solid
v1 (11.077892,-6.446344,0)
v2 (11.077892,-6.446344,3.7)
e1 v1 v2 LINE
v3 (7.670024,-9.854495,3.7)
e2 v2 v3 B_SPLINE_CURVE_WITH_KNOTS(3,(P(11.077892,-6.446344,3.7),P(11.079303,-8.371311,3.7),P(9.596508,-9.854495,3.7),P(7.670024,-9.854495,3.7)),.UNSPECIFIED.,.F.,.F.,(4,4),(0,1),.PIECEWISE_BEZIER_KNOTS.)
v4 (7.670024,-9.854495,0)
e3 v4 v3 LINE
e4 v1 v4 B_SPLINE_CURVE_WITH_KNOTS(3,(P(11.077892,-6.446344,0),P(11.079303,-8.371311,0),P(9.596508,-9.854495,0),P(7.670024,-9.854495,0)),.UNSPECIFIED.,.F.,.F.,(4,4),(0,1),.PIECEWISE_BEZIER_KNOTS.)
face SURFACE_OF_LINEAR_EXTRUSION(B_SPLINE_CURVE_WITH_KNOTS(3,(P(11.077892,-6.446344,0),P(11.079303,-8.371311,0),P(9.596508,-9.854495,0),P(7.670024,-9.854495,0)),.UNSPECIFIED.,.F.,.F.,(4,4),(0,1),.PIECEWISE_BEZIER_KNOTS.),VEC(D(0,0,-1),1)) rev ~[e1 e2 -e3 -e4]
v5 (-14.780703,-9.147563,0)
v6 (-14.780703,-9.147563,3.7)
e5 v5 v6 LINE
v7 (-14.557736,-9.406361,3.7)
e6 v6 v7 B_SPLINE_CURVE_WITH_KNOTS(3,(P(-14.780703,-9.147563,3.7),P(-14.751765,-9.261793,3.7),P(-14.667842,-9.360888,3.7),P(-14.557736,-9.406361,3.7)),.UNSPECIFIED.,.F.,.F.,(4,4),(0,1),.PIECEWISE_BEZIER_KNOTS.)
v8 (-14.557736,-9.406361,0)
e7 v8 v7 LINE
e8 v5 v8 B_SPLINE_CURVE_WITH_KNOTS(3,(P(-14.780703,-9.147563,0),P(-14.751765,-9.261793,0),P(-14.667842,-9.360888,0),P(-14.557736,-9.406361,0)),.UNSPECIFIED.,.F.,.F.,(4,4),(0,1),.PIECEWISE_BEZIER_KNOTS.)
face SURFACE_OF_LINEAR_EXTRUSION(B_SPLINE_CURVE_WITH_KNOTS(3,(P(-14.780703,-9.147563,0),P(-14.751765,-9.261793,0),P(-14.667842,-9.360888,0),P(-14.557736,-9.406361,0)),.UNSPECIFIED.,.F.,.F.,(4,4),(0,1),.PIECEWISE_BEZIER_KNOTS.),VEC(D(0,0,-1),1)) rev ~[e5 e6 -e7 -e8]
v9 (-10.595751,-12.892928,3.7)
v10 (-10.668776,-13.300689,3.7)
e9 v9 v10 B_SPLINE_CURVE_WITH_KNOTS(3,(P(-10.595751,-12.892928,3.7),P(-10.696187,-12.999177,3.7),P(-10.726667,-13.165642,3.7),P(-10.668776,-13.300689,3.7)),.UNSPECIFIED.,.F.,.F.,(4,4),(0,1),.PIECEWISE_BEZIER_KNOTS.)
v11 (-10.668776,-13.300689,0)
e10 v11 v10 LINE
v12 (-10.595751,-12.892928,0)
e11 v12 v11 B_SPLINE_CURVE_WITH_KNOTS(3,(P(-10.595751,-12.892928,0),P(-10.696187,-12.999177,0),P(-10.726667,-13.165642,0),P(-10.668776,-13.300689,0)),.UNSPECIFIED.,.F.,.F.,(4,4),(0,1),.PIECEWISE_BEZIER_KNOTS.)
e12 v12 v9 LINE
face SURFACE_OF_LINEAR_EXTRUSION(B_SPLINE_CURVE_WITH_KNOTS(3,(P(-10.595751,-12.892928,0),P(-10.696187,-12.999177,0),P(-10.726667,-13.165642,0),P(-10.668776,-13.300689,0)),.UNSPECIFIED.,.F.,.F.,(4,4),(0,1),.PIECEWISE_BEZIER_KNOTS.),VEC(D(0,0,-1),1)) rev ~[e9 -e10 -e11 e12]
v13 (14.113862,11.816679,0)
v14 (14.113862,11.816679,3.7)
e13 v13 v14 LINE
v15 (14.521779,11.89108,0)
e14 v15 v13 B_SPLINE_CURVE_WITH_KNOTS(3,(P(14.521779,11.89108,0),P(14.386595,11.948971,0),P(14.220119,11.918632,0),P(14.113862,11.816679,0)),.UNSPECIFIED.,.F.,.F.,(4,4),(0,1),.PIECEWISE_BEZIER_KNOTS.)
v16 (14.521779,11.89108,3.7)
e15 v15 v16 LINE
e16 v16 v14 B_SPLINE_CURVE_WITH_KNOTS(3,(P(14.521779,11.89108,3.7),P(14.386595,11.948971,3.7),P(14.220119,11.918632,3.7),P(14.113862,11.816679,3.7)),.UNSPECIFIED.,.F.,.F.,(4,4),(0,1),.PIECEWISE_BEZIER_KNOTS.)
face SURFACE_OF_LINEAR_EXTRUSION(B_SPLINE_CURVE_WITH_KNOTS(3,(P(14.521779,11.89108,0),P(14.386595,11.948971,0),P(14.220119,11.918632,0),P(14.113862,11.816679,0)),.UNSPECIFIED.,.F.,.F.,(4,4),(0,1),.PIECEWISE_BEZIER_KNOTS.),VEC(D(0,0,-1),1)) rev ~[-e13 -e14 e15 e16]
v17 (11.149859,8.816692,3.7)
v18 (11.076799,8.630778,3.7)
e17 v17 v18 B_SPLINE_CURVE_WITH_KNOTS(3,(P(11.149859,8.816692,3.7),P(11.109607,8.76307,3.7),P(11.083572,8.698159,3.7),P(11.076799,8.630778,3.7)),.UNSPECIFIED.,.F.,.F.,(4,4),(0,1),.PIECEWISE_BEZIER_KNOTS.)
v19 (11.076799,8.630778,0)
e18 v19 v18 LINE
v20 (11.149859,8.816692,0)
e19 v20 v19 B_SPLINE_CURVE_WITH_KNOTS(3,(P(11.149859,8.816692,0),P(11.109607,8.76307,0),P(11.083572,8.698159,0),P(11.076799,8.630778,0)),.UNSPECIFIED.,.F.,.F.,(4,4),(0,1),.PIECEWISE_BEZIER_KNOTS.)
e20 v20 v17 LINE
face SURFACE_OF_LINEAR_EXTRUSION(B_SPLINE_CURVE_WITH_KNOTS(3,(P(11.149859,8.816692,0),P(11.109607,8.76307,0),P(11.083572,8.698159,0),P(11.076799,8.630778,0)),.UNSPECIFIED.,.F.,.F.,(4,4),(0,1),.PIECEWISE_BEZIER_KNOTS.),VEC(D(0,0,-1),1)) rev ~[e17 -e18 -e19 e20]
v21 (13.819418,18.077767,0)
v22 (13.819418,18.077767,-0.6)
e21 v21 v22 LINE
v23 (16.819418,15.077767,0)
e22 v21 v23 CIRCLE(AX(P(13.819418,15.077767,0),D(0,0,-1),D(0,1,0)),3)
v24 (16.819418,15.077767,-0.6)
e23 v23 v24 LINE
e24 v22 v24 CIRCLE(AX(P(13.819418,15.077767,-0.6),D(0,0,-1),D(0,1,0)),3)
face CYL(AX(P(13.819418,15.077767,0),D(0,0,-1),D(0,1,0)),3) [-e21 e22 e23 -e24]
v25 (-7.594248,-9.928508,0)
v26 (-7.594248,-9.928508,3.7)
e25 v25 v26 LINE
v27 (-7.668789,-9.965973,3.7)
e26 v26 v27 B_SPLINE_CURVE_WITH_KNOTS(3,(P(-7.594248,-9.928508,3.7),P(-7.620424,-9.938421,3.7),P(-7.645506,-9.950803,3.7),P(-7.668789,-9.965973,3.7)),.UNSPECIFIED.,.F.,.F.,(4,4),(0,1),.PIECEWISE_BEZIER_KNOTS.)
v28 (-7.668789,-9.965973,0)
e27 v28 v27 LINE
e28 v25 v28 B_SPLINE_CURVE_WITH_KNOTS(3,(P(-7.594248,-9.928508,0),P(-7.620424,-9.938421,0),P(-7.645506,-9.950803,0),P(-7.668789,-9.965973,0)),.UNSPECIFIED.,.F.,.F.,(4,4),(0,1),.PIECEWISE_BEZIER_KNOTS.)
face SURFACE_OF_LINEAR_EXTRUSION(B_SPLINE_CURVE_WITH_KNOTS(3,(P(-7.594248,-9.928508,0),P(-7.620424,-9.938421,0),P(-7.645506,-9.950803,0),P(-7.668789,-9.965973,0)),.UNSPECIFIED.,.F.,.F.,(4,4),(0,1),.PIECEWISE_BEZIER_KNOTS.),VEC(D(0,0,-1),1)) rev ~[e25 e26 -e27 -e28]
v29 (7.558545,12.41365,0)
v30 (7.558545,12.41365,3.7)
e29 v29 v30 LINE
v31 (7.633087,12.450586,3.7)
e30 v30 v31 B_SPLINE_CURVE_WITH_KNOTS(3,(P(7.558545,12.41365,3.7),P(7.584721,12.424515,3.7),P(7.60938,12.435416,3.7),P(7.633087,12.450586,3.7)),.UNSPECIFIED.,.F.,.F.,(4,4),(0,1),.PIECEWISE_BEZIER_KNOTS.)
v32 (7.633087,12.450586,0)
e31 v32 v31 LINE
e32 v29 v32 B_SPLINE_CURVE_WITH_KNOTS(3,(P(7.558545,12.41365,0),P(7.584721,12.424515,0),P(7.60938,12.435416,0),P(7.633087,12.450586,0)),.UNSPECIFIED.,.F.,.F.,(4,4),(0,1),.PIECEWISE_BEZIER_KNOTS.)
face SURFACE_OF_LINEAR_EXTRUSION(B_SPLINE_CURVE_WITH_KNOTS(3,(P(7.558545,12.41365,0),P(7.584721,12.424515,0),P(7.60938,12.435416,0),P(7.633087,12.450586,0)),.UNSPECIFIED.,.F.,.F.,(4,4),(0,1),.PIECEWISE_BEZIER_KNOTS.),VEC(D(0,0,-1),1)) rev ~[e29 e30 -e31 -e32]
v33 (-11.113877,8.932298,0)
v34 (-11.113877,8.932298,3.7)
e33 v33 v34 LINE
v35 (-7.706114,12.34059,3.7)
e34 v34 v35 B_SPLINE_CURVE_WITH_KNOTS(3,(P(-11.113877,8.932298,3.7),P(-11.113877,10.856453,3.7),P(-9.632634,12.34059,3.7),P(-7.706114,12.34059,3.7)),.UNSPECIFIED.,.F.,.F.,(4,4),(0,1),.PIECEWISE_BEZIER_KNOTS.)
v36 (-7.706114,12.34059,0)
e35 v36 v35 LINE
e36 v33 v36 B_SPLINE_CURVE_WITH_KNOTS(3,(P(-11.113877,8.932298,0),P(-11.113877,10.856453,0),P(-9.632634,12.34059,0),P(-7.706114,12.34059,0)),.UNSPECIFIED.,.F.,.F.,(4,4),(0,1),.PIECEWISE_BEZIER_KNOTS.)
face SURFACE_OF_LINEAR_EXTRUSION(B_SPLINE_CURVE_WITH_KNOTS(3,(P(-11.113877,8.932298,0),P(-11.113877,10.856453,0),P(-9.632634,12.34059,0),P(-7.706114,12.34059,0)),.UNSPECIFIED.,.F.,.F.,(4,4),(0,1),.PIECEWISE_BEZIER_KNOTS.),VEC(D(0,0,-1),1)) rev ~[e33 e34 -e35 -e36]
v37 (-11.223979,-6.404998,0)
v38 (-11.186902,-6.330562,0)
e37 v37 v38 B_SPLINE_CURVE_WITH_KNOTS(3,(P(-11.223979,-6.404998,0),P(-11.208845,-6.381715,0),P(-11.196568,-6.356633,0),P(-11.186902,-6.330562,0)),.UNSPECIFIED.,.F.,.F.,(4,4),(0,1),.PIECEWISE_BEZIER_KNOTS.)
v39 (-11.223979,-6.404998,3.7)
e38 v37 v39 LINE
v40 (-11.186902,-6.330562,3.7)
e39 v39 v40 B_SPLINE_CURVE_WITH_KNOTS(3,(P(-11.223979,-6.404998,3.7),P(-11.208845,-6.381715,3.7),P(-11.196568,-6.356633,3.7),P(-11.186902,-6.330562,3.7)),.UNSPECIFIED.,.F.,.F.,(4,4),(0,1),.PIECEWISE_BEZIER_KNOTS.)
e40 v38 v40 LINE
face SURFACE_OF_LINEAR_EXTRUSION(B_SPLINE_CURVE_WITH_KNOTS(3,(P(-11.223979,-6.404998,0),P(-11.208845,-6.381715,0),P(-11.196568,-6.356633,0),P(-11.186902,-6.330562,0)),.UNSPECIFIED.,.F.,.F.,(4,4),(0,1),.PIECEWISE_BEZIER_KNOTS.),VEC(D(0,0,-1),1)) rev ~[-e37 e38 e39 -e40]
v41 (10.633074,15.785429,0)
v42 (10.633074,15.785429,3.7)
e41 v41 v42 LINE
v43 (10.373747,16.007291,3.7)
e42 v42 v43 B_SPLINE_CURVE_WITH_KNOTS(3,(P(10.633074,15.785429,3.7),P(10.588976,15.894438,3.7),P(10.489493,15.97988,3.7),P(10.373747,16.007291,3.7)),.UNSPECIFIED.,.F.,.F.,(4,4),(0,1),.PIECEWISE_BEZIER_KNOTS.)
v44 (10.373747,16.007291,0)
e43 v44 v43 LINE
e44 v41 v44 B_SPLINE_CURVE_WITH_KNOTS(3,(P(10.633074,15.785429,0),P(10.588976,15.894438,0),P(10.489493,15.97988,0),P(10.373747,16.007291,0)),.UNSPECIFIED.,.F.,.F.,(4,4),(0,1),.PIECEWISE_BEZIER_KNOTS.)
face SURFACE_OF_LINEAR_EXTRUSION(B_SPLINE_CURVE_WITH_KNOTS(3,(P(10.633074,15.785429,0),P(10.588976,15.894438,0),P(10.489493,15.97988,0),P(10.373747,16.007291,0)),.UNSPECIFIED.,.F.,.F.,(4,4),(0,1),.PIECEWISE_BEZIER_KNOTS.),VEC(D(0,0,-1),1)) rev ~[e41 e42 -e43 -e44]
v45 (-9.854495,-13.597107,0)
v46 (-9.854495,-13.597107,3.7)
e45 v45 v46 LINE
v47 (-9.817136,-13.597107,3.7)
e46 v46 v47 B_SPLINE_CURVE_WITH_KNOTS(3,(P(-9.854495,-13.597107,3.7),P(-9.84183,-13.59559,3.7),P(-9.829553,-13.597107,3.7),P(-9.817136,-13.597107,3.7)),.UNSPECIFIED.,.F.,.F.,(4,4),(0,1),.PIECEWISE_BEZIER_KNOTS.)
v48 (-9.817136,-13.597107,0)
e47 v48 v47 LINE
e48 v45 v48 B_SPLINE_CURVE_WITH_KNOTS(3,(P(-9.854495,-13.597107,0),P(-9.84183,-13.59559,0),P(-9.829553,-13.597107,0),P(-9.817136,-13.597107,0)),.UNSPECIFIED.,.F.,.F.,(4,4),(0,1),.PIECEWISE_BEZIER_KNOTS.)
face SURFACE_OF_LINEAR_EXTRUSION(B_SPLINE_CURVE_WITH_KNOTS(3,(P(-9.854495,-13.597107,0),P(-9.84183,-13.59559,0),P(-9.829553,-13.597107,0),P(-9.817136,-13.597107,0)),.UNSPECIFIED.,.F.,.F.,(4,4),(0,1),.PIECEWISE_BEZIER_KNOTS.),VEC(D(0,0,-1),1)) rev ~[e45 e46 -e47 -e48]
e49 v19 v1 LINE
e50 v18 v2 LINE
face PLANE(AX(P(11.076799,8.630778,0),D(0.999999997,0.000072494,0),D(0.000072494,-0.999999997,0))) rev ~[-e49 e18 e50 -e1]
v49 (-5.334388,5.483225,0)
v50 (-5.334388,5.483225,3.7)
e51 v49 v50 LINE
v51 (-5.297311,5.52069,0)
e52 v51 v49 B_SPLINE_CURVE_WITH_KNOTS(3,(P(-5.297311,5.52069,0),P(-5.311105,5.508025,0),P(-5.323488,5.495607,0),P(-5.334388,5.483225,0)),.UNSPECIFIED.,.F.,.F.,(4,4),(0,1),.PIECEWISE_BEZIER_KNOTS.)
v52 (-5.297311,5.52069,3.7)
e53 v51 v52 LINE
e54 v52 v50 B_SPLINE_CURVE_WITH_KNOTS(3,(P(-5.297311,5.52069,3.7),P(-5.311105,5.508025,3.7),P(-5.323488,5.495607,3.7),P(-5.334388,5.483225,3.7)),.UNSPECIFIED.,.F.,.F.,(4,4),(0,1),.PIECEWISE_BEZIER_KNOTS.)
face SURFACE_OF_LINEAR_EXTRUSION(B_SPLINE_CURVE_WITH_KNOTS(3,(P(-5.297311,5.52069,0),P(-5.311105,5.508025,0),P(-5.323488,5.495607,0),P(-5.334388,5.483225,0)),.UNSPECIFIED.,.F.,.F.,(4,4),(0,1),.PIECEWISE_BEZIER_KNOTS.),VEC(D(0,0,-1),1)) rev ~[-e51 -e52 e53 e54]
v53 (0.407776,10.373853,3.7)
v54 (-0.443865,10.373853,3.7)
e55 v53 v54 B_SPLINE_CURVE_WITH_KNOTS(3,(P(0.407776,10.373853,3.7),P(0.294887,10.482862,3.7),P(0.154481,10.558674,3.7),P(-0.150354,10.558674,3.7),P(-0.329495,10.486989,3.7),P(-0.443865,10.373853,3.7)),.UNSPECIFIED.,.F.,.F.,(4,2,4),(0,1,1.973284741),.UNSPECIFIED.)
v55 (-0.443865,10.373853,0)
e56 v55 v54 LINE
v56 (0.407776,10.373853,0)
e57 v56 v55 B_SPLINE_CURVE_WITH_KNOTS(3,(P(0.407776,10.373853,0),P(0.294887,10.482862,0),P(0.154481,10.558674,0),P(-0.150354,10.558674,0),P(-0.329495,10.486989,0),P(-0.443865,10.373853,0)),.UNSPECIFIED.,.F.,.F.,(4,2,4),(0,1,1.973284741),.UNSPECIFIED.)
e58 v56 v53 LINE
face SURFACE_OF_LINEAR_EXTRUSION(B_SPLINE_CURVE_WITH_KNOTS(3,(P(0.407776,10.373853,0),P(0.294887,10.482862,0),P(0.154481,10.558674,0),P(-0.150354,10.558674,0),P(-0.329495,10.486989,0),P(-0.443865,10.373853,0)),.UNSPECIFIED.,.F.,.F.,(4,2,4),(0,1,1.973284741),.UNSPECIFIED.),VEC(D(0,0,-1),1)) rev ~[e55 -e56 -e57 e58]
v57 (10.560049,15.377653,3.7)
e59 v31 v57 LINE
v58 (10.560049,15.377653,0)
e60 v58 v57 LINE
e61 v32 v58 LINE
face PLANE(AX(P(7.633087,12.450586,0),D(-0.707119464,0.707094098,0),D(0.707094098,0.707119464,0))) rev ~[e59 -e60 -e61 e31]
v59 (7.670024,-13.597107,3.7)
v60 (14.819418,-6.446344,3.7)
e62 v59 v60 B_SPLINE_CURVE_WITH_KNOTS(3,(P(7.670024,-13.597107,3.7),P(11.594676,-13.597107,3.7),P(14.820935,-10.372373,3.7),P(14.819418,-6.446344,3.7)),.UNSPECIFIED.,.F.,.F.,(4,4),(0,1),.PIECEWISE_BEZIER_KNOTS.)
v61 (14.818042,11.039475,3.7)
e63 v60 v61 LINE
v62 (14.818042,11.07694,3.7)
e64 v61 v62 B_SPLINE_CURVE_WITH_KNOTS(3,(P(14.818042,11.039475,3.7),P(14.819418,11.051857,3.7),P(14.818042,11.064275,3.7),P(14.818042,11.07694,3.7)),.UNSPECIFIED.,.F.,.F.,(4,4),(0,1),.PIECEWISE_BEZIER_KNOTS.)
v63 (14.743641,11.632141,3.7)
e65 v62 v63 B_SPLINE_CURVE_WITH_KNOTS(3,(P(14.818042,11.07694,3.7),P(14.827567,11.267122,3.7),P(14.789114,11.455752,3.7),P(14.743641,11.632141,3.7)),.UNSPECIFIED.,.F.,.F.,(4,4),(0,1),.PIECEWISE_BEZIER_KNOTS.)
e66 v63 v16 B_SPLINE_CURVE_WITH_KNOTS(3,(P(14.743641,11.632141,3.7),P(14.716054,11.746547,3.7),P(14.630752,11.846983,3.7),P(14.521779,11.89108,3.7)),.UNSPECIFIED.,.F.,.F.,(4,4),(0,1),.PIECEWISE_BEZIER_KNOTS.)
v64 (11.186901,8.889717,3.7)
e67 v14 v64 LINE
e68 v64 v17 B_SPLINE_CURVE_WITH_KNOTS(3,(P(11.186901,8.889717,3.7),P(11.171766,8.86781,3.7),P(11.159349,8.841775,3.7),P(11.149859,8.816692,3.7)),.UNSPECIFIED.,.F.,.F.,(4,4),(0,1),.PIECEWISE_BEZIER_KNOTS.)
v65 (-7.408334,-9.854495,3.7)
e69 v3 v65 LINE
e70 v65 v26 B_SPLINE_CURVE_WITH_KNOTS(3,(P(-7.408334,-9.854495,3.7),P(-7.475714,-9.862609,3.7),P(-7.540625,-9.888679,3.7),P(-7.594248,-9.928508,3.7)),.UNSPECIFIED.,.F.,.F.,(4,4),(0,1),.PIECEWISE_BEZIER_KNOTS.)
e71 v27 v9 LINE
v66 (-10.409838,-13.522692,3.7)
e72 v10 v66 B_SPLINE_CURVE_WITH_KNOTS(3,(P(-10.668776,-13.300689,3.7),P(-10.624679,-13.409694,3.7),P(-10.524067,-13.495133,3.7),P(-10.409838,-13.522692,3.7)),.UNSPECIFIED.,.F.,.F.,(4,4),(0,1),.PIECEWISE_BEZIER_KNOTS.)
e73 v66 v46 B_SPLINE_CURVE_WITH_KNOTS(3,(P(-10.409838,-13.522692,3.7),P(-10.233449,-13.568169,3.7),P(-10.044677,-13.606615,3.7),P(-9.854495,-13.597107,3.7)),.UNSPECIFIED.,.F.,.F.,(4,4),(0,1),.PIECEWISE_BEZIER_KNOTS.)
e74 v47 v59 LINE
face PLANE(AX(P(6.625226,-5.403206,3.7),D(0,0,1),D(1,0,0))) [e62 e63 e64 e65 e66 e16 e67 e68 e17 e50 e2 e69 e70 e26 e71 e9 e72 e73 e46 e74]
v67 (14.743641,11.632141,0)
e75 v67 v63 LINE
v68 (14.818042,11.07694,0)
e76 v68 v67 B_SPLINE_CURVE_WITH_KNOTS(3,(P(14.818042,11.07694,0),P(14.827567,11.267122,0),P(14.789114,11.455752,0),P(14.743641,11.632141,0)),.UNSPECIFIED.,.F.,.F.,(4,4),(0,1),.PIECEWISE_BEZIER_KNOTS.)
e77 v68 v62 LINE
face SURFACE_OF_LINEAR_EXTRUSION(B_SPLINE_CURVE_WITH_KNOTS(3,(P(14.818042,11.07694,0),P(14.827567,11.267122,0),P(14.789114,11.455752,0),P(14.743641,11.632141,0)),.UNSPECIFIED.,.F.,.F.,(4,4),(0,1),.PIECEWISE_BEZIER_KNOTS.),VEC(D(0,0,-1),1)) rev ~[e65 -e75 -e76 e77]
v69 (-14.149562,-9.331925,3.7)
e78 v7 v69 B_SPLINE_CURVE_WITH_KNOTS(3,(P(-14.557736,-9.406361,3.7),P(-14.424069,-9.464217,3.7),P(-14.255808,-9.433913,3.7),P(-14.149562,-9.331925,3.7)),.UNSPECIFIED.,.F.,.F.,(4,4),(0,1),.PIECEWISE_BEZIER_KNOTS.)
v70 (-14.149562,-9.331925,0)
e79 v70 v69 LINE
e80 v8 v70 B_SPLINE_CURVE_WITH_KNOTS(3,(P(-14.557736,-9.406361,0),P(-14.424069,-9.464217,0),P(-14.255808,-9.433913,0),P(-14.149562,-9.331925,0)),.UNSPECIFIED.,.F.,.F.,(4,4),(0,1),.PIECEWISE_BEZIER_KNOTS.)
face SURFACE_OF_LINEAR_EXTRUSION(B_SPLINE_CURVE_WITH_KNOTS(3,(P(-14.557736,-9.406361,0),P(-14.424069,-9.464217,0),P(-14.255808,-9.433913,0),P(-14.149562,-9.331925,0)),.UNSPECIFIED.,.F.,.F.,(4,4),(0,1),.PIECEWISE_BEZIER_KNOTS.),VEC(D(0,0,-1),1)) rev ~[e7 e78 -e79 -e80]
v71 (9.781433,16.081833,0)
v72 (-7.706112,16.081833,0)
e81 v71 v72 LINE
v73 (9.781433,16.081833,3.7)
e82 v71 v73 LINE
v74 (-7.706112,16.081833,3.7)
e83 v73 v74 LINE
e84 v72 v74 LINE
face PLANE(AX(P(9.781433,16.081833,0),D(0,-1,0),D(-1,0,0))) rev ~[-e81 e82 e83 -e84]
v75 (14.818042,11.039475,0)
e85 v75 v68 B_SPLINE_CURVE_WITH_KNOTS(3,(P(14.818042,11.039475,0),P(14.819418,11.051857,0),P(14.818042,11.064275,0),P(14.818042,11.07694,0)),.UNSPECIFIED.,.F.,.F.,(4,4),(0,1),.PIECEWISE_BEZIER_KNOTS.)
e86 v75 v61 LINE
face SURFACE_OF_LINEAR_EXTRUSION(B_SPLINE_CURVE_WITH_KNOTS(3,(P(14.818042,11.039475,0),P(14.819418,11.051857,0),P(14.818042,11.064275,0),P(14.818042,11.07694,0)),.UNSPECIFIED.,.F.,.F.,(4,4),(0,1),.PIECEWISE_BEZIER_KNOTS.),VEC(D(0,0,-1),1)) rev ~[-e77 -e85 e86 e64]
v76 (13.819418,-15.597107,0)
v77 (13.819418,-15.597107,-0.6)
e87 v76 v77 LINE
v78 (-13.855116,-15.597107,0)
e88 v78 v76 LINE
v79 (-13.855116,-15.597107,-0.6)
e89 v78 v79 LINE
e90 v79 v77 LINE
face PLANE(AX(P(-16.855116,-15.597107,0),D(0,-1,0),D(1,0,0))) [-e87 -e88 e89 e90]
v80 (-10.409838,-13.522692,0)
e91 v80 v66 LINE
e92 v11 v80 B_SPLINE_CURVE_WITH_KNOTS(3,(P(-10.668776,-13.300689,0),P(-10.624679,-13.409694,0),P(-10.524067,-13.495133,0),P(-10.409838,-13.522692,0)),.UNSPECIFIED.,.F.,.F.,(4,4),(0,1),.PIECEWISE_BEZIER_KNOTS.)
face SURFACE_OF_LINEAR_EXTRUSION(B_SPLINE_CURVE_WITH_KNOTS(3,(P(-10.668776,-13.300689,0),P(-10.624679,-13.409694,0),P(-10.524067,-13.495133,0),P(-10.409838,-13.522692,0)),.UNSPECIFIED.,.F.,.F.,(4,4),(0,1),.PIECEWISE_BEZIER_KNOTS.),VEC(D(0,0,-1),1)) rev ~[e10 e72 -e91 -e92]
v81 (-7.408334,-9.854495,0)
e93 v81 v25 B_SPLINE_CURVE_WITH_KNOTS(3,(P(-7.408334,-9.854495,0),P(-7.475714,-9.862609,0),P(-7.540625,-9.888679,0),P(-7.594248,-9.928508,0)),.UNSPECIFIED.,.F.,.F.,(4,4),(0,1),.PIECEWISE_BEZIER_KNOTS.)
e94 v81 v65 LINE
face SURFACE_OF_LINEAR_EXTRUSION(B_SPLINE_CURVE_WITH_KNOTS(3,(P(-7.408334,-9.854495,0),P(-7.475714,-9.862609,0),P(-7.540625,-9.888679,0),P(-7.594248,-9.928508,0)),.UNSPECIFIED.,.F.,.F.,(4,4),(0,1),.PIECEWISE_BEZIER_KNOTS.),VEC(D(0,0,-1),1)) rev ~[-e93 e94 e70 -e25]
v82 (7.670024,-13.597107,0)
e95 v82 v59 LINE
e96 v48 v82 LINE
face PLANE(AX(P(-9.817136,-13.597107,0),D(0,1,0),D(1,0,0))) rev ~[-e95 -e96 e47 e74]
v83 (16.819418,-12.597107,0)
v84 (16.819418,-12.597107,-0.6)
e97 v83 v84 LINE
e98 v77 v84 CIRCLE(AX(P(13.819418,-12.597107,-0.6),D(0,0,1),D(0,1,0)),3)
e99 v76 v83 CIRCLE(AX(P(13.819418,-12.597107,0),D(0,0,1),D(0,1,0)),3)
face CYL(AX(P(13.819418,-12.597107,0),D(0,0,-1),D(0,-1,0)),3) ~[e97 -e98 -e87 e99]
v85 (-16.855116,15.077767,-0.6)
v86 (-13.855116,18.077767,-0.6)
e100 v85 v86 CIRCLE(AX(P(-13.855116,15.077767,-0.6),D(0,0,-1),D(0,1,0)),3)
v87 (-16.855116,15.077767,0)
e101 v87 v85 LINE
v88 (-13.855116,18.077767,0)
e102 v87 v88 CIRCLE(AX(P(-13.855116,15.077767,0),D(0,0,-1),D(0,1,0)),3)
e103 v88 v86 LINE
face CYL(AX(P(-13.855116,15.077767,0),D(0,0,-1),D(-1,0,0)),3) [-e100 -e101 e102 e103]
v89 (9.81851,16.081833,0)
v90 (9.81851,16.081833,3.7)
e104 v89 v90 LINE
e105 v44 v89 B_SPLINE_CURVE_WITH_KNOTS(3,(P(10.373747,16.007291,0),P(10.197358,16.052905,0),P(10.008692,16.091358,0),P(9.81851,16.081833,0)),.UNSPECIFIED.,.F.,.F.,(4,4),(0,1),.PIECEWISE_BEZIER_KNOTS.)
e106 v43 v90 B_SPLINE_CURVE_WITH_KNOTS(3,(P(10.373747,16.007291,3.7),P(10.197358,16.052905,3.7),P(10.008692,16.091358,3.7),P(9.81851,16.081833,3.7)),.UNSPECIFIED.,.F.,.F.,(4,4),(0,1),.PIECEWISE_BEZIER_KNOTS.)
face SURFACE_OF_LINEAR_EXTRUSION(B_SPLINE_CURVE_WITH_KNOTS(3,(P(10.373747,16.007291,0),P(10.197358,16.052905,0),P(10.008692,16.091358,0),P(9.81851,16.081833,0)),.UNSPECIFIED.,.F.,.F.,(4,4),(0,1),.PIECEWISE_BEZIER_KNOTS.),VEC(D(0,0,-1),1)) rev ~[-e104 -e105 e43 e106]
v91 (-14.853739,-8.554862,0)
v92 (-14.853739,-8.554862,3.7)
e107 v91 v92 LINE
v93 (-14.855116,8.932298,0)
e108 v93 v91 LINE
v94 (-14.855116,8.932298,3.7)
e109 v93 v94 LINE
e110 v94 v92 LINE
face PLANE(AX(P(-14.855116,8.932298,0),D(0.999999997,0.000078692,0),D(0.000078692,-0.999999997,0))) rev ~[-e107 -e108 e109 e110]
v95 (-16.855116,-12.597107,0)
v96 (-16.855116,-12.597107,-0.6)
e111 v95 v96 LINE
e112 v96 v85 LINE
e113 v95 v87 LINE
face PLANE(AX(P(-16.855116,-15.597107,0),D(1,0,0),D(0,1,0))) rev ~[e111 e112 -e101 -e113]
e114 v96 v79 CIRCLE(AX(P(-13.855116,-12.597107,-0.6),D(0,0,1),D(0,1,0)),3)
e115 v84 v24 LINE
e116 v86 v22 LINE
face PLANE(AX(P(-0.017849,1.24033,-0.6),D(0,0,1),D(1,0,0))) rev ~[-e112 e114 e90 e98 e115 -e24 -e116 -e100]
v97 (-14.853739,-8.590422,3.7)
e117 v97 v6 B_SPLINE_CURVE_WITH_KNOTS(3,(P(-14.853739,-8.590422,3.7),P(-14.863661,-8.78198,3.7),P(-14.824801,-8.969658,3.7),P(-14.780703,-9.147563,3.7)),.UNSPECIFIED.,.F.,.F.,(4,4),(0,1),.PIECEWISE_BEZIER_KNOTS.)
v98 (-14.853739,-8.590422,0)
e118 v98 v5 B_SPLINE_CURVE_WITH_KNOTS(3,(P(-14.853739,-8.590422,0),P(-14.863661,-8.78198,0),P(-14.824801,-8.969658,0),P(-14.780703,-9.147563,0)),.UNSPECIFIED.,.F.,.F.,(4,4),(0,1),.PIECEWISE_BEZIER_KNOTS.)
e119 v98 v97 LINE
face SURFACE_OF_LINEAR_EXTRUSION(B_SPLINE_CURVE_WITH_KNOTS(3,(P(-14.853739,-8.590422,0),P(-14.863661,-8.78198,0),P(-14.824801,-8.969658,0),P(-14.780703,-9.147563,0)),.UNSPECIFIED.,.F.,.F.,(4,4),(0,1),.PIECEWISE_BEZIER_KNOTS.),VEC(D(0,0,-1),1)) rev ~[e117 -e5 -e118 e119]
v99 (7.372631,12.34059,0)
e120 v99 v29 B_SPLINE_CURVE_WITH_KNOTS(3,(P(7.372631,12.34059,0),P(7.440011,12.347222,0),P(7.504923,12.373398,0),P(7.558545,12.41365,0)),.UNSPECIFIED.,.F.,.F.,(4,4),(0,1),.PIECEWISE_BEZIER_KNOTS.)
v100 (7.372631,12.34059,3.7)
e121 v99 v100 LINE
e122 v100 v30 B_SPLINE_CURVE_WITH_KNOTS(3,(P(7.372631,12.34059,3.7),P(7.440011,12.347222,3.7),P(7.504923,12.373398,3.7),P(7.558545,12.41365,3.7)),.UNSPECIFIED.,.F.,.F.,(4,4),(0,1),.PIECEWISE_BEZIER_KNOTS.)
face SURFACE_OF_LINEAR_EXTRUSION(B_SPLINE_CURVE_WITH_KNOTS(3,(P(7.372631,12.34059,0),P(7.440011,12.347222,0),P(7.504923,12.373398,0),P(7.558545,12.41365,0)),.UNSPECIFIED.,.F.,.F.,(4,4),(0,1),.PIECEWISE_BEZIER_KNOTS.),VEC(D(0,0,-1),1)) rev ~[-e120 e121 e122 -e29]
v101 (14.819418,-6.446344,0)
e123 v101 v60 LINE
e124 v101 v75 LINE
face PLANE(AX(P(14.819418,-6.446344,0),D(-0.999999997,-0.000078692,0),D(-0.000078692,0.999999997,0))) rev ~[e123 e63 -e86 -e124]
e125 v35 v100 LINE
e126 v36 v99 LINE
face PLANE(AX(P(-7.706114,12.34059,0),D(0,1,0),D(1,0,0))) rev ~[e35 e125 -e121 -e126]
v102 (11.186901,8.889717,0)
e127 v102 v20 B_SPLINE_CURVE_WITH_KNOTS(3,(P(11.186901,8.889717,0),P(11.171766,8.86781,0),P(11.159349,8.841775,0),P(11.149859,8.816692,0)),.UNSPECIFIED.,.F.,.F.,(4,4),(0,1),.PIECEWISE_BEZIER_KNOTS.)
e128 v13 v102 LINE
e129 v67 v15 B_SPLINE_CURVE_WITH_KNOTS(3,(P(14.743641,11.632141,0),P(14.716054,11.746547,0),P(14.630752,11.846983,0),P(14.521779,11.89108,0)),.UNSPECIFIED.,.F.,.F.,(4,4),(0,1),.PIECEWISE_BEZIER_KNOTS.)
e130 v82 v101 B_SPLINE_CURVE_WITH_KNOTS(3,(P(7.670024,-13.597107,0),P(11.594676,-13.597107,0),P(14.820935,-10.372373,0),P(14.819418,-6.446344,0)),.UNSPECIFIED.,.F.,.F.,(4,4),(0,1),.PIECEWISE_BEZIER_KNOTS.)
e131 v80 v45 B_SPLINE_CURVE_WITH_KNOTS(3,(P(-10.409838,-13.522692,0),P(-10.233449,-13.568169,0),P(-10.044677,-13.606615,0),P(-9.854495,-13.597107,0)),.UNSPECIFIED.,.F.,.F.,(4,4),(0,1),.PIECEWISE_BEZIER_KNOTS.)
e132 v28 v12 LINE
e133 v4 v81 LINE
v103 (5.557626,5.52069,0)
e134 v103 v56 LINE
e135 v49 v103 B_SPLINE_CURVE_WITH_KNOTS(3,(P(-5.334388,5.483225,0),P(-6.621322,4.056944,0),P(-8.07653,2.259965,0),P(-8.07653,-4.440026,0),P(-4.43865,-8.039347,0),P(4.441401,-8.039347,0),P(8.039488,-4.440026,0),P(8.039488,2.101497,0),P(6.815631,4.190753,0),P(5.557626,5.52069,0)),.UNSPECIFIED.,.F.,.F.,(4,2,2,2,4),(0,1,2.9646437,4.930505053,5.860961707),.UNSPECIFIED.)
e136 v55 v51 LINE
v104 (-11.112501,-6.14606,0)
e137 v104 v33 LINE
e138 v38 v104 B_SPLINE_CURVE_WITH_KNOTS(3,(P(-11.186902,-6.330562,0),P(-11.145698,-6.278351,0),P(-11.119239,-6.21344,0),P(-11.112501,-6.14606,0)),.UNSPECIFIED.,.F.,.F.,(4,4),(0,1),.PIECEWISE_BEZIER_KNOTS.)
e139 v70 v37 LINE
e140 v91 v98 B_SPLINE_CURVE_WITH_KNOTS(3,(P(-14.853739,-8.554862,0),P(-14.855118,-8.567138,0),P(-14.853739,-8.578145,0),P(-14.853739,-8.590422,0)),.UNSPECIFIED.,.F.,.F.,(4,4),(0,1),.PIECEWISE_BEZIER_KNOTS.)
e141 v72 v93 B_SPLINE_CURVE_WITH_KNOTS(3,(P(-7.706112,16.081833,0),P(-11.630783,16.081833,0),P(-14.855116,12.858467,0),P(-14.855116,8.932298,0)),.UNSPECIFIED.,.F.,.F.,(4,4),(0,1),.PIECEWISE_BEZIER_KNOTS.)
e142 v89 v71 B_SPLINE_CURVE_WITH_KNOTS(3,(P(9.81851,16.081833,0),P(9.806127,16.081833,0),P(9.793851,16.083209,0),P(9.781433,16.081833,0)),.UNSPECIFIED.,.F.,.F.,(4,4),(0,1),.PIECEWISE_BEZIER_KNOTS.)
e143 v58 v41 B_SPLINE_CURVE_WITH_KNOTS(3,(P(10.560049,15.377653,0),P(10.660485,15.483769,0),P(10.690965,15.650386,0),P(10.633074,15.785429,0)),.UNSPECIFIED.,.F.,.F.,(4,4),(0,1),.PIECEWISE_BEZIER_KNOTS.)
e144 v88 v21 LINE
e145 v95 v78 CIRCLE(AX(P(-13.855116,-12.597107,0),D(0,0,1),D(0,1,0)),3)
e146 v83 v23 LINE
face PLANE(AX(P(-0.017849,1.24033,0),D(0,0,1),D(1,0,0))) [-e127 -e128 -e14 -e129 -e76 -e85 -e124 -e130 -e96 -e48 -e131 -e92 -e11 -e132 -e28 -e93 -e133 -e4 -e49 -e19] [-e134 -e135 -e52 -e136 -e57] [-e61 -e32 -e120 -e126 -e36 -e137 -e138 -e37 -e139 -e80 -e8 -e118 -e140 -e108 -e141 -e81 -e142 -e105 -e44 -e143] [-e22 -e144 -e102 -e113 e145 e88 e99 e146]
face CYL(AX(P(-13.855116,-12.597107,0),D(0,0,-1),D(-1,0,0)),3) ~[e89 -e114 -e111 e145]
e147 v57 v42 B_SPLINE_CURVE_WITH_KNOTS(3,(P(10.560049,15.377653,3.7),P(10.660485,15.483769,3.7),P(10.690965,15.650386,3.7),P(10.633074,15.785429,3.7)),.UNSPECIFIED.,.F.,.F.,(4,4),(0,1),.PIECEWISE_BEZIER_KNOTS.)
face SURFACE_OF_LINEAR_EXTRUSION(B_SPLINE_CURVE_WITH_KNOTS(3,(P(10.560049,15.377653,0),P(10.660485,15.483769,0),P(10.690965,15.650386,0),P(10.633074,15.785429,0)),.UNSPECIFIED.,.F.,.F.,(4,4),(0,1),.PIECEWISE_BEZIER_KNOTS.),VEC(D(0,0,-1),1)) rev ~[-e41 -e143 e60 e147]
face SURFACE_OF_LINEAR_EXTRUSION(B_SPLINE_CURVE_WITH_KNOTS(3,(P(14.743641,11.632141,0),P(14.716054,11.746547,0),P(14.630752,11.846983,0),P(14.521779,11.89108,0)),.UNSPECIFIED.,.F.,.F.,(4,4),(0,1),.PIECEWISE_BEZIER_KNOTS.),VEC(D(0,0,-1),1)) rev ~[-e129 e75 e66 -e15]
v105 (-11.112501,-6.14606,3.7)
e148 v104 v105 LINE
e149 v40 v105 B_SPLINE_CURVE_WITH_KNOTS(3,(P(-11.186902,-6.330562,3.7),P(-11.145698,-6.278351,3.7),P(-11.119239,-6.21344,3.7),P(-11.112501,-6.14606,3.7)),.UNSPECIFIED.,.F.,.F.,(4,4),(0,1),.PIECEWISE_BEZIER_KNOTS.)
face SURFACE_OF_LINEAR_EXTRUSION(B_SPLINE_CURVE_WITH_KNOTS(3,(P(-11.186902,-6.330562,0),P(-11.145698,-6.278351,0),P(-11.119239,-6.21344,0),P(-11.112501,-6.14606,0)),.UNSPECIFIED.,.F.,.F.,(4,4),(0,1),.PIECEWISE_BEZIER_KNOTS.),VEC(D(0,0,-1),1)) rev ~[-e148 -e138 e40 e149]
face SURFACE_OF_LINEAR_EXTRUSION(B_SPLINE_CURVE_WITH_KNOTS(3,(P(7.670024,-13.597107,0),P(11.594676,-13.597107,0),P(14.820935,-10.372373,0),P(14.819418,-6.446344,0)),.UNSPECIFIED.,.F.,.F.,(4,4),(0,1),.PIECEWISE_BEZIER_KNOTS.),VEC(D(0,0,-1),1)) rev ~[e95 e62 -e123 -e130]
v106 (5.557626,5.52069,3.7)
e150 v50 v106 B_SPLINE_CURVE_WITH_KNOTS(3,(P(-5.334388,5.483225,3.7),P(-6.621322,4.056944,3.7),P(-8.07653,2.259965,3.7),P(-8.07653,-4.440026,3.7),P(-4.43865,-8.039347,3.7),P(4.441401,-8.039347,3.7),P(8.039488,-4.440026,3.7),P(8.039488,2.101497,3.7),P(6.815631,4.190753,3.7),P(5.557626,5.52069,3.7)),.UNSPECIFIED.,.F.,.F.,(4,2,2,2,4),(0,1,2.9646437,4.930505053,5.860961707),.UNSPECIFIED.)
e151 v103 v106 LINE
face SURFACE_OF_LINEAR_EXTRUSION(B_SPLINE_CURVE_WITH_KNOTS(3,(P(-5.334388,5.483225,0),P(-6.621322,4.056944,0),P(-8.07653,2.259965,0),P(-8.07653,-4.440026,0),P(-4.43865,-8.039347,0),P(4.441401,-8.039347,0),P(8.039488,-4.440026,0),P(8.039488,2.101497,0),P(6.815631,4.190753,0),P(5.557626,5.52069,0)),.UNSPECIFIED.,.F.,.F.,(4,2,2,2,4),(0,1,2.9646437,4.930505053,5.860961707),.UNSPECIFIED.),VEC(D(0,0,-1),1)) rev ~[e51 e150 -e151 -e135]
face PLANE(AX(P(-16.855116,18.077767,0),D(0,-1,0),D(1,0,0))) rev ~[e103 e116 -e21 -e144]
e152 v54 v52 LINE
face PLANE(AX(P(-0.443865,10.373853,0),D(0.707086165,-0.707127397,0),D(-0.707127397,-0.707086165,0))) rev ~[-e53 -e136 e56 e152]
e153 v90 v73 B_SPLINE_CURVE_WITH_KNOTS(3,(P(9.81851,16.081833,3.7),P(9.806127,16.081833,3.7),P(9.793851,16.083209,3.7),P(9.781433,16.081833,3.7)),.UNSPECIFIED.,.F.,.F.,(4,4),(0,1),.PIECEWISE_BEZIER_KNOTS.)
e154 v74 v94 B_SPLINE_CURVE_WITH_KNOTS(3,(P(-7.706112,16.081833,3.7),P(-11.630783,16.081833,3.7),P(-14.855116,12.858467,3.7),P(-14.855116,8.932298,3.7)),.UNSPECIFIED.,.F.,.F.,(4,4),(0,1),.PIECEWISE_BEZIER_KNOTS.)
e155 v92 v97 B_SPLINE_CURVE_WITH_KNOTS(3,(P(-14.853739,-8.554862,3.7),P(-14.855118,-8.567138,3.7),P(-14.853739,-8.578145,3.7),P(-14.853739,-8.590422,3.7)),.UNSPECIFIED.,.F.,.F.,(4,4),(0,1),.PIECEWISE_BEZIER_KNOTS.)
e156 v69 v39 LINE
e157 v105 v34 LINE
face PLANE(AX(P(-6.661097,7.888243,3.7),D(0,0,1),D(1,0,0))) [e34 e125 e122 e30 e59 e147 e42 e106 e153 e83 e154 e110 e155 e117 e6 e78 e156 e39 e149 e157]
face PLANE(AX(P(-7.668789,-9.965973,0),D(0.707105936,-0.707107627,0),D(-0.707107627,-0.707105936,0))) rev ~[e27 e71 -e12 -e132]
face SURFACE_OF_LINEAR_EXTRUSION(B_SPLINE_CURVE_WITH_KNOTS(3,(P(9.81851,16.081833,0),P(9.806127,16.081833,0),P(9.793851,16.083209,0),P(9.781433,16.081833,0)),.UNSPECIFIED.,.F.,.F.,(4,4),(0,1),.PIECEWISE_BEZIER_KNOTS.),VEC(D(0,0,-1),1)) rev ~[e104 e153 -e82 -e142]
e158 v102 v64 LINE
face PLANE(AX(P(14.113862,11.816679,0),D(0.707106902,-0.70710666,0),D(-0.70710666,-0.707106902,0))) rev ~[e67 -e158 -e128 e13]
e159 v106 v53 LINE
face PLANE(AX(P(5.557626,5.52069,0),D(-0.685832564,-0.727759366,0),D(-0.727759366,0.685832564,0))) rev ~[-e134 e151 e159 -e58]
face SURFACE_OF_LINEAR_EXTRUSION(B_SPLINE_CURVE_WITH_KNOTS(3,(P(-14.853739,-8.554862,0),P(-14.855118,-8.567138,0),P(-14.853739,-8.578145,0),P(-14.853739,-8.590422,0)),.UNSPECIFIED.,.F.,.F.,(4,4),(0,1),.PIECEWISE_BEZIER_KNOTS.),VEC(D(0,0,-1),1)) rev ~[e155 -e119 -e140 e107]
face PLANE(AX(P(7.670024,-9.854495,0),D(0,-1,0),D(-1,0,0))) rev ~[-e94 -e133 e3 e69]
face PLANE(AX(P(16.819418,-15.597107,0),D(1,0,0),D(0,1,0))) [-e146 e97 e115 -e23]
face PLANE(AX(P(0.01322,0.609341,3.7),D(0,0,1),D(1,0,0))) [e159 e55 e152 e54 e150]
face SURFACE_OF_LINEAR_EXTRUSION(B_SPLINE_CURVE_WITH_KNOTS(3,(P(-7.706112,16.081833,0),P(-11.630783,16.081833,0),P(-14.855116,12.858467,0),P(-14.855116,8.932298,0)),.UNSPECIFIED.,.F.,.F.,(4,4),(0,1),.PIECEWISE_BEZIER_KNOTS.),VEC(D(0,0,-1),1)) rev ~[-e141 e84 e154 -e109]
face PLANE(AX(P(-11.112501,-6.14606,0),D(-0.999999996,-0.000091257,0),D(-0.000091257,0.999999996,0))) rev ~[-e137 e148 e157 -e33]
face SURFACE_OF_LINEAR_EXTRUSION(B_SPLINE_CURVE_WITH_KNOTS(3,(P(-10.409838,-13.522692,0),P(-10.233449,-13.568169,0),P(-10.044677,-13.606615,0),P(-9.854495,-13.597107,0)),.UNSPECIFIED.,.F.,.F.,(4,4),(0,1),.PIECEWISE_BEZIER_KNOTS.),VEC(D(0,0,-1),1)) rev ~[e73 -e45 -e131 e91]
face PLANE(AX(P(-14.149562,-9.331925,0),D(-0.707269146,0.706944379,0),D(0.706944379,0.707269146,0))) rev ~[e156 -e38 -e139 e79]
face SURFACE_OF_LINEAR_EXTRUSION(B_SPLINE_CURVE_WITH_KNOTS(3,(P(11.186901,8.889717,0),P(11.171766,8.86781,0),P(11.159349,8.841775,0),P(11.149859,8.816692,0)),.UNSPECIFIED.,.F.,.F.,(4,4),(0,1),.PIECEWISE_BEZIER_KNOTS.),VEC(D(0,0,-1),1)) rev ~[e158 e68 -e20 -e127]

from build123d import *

# Parameters (mm, degrees)
BOSS_EXTRUDE1_DEPTH   = 3.7
BOSS_EXTRUDE1_2_DEPTH = 3.7
BOSS_EXTRUDE1_3_DEPTH = 3.7
SKETCH2_W             = 33.674533553
SKETCH2_H             = 33.674874065
BOSS_EXTRUDE2_DEPTH   = 0.6
FILLET1_R             = 3


with BuildPart() as part:
    # Sketch1 → Boss-Extrude1 (new body)
    with BuildSketch(Plane.XY):
        with BuildLine():
            Line((-0.443865, 10.373853), (-5.297311, 5.52069))
            add(Edge.make_bspline(
                [(-5.297311, 5.52069), (-5.311105, 5.508025), (-5.323488, 5.495607), (-5.334388, 5.483225)],
                knots=[0, 0, 0, 0, 1, 1, 1, 1], degree=3))
            add(Edge.make_bspline(
                [(-5.334388, 5.483225), (-6.621322, 4.056944), (-8.07653, 2.259965), (-8.07653, 0)],
                knots=[0, 0, 0, 0, 1, 1, 1, 1], degree=3))
            add(Edge.make_bspline(
                [(-8.07653, 0), (-8.07653, -4.440026), (-4.43865, -8.039347), (0, -8.039347)],
                knots=[0, 0, 0, 0, 1, 1, 1, 1], degree=3))
            add(Edge.make_bspline(
                [(0, -8.039347), (4.441401, -8.039347), (8.039488, -4.440026), (8.039488, 0)],
                knots=[0, 0, 0, 0, 1, 1, 1, 1], degree=3))
            add(Edge.make_bspline(
                [(8.039488, 0), (8.039488, 2.101497), (6.815631, 4.190753), (5.557626, 5.52069)],
                knots=[0, 0, 0, 0, 1, 1, 1, 1], degree=3))
            Line((5.557626, 5.52069), (0.407776, 10.373853))
            add(Edge.make_bspline(
                [(0.407776, 10.373853), (0.294887, 10.482862), (0.154481, 10.558674), (0, 10.558674)],
                knots=[0, 0, 0, 0, 1, 1, 1, 1], degree=3))
            add(Edge.make_bspline(
                [(0, 10.558674), (-0.150354, 10.558674), (-0.329495, 10.486989), (-0.443865, 10.373853)],
                knots=[0, 0, 0, 0, 1, 1, 1, 1], degree=3))
        make_face()
    extrude(amount=BOSS_EXTRUDE1_DEPTH)



with BuildPart() as body_2:
    # Sketch1 → Boss-Extrude1 2 (new body)
    with BuildSketch(Plane.XY):
        with BuildLine():
            Line((-7.706114447, 12.34059), (7.372630553, 12.34059))
            add(Edge.make_bspline(
                [(7.372630553, 12.34059), (7.440010553, 12.347222), (7.504922553, 12.373398), (7.558544553, 12.41365)],
                knots=[0, 0, 0, 0, 1, 1, 1, 1], degree=3))
            add(Edge.make_bspline(
                [(7.558544553, 12.41365), (7.584720553, 12.424515), (7.609379553, 12.435416), (7.633086553, 12.450586)],
                knots=[0, 0, 0, 0, 1, 1, 1, 1], degree=3))
            Line((7.633086553, 12.450586), (10.560048553, 15.377653))
            add(Edge.make_bspline(
                [(10.560048553, 15.377653), (10.660484553, 15.483769), (10.690964553, 15.650386), (10.633073553, 15.785429)],
                knots=[0, 0, 0, 0, 1, 1, 1, 1], degree=3))
            add(Edge.make_bspline(
                [(10.633073553, 15.785429), (10.588975553, 15.894438), (10.489492553, 15.97988), (10.373746553, 16.007291)],
                knots=[0, 0, 0, 0, 1, 1, 1, 1], degree=3))
            add(Edge.make_bspline(
                [(10.373746553, 16.007291), (10.197357553, 16.052905), (10.008691553, 16.091358), (9.818509553, 16.081833)],
                knots=[0, 0, 0, 0, 1, 1, 1, 1], degree=3))
            add(Edge.make_bspline(
                [(9.818509553, 16.081833), (9.806126553, 16.081833), (9.793850553, 16.083209), (9.781432553, 16.081833)],
                knots=[0, 0, 0, 0, 1, 1, 1, 1], degree=3))
            Line((9.781432553, 16.081833), (-7.706111553, 16.081833))
            add(Edge.make_bspline(
                [(-7.706111553, 16.081833), (-11.630782553, 16.081833), (-14.855115553, 12.858467), (-14.855115553, 8.932298)],
                knots=[0, 0, 0, 0, 1, 1, 1, 1], degree=3))
            Line((-14.855115553, 8.932298), (-14.853739447, -8.554862))
            add(Edge.make_bspline(
                [(-14.853739447, -8.554862), (-14.855118447, -8.567138), (-14.853739447, -8.578145), (-14.853739447, -8.590422)],
                knots=[0, 0, 0, 0, 1, 1, 1, 1], degree=3))
            add(Edge.make_bspline(
                [(-14.853739447, -8.590422), (-14.863661447, -8.78198), (-14.824801447, -8.969658), (-14.780703447, -9.147563)],
                knots=[0, 0, 0, 0, 1, 1, 1, 1], degree=3))
            add(Edge.make_bspline(
                [(-14.780703447, -9.147563), (-14.751765447, -9.261793), (-14.667842447, -9.360888), (-14.557736447, -9.406361)],
                knots=[0, 0, 0, 0, 1, 1, 1, 1], degree=3))
            add(Edge.make_bspline(
                [(-14.557736447, -9.406361), (-14.424069447, -9.464217), (-14.255808447, -9.433913), (-14.149562447, -9.331925)],
                knots=[0, 0, 0, 0, 1, 1, 1, 1], degree=3))
            Line((-14.149562447, -9.331925), (-11.223979447, -6.404998))
            add(Edge.make_bspline(
                [(-11.223979447, -6.404998), (-11.208845447, -6.381715), (-11.196568447, -6.356633), (-11.186902447, -6.330562)],
                knots=[0, 0, 0, 0, 1, 1, 1, 1], degree=3))
            add(Edge.make_bspline(
                [(-11.186902447, -6.330562), (-11.145698447, -6.278351), (-11.119239447, -6.21344), (-11.112501447, -6.14606)],
                knots=[0, 0, 0, 0, 1, 1, 1, 1], degree=3))
            Line((-11.112501447, -6.14606), (-11.113877447, 8.932298))
            add(Edge.make_bspline(
                [(-11.113877447, 8.932298), (-11.113877447, 10.856453), (-9.632634447, 12.34059), (-7.706114447, 12.34059)],
                knots=[0, 0, 0, 0, 1, 1, 1, 1], degree=3))
        make_face()
    extrude(amount=BOSS_EXTRUDE1_2_DEPTH)


with BuildPart() as body_3:
    # Sketch1 → Boss-Extrude1 3 (new body)
    with BuildSketch(Plane.XY):
        with BuildLine():
            Line((7.670024, -9.854495), (-7.408334, -9.854495))
            add(Edge.make_bspline(
                [(-7.408334, -9.854495), (-7.475714, -9.862609), (-7.540625, -9.888679), (-7.594248, -9.928508)],
                knots=[0, 0, 0, 0, 1, 1, 1, 1], degree=3))
            add(Edge.make_bspline(
                [(-7.594248, -9.928508), (-7.620424, -9.938421), (-7.645506, -9.950803), (-7.668789, -9.965973)],
                knots=[0, 0, 0, 0, 1, 1, 1, 1], degree=3))
            Line((-7.668789, -9.965973), (-10.595751, -12.892928))
            add(Edge.make_bspline(
                [(-10.595751, -12.892928), (-10.696187, -12.999177), (-10.726667, -13.165642), (-10.668776, -13.300689)],
                knots=[0, 0, 0, 0, 1, 1, 1, 1], degree=3))
            add(Edge.make_bspline(
                [(-10.668776, -13.300689), (-10.624679, -13.409694), (-10.524067, -13.495133), (-10.409838, -13.522692)],
                knots=[0, 0, 0, 0, 1, 1, 1, 1], degree=3))
            add(Edge.make_bspline(
                [(-10.409838, -13.522692), (-10.233449, -13.568169), (-10.044677, -13.606615), (-9.854495, -13.597107)],
                knots=[0, 0, 0, 0, 1, 1, 1, 1], degree=3))
            add(Edge.make_bspline(
                [(-9.854495, -13.597107), (-9.84183, -13.59559), (-9.829553, -13.597107), (-9.817136, -13.597107)],
                knots=[0, 0, 0, 0, 1, 1, 1, 1], degree=3))
            Line((-9.817136, -13.597107), (7.670024, -13.597107))
            add(Edge.make_bspline(
                [(7.670024, -13.597107), (11.594676, -13.597107), (14.820935, -10.372373), (14.819418, -6.446344)],
                knots=[0, 0, 0, 0, 1, 1, 1, 1], degree=3))
            Line((14.819418, -6.446344), (14.818042, 11.039475))
            add(Edge.make_bspline(
                [(14.818042, 11.039475), (14.819418, 11.051857), (14.818042, 11.064275), (14.818042, 11.07694)],
                knots=[0, 0, 0, 0, 1, 1, 1, 1], degree=3))
            add(Edge.make_bspline(
                [(14.818042, 11.07694), (14.827567, 11.267122), (14.789114, 11.455752), (14.743641, 11.632141)],
                knots=[0, 0, 0, 0, 1, 1, 1, 1], degree=3))
            add(Edge.make_bspline(
                [(14.743641, 11.632141), (14.716054, 11.746547), (14.630752, 11.846983), (14.521779, 11.89108)],
                knots=[0, 0, 0, 0, 1, 1, 1, 1], degree=3))
            add(Edge.make_bspline(
                [(14.521779, 11.89108), (14.386595, 11.948971), (14.220119, 11.918632), (14.113862, 11.816679)],
                knots=[0, 0, 0, 0, 1, 1, 1, 1], degree=3))
            Line((14.113862, 11.816679), (11.186901, 8.889717))
            add(Edge.make_bspline(
                [(11.186901, 8.889717), (11.171766, 8.86781), (11.159349, 8.841775), (11.149859, 8.816692)],
                knots=[0, 0, 0, 0, 1, 1, 1, 1], degree=3))
            add(Edge.make_bspline(
                [(11.149859, 8.816692), (11.109607, 8.76307), (11.083572, 8.698159), (11.076799, 8.630778)],
                knots=[0, 0, 0, 0, 1, 1, 1, 1], degree=3))
            Line((11.076799, 8.630778), (11.077892, -6.446344))
            add(Edge.make_bspline(
                [(11.077892, -6.446344), (11.079303, -8.371311), (9.596508, -9.854495), (7.670024, -9.854495)],
                knots=[0, 0, 0, 0, 1, 1, 1, 1], degree=3))
        make_face()
    extrude(amount=BOSS_EXTRUDE1_3_DEPTH)


with BuildPart() as part_1:
    add(part.part)

    add(body_2.part)  # Boss-Extrude2 merges body 2

    add(body_3.part)  # Boss-Extrude2 merges body 3
    # Sketch2 → Boss-Extrude2 (add)
    with BuildSketch(Plane.XY):
        with Locations((-0.017848776, 1.240330032)):
            Rectangle(SKETCH2_W, SKETCH2_H)
    extrude(amount=-BOSS_EXTRUDE2_DEPTH)

    # Fillet1
    fillet1_edges = [part_1.edges().sort_by_distance(p)[0] for p in [
        (-16.855115553, -15.597107, -0.3),
        (-16.855115553, 18.077767065, -0.3),
        (16.819418, 18.077767065, -0.3),
        (16.819418, -15.597107, -0.3),
    ]]
    fillet(fillet1_edges, radius=FILLET1_R)


solid = part_1.part
